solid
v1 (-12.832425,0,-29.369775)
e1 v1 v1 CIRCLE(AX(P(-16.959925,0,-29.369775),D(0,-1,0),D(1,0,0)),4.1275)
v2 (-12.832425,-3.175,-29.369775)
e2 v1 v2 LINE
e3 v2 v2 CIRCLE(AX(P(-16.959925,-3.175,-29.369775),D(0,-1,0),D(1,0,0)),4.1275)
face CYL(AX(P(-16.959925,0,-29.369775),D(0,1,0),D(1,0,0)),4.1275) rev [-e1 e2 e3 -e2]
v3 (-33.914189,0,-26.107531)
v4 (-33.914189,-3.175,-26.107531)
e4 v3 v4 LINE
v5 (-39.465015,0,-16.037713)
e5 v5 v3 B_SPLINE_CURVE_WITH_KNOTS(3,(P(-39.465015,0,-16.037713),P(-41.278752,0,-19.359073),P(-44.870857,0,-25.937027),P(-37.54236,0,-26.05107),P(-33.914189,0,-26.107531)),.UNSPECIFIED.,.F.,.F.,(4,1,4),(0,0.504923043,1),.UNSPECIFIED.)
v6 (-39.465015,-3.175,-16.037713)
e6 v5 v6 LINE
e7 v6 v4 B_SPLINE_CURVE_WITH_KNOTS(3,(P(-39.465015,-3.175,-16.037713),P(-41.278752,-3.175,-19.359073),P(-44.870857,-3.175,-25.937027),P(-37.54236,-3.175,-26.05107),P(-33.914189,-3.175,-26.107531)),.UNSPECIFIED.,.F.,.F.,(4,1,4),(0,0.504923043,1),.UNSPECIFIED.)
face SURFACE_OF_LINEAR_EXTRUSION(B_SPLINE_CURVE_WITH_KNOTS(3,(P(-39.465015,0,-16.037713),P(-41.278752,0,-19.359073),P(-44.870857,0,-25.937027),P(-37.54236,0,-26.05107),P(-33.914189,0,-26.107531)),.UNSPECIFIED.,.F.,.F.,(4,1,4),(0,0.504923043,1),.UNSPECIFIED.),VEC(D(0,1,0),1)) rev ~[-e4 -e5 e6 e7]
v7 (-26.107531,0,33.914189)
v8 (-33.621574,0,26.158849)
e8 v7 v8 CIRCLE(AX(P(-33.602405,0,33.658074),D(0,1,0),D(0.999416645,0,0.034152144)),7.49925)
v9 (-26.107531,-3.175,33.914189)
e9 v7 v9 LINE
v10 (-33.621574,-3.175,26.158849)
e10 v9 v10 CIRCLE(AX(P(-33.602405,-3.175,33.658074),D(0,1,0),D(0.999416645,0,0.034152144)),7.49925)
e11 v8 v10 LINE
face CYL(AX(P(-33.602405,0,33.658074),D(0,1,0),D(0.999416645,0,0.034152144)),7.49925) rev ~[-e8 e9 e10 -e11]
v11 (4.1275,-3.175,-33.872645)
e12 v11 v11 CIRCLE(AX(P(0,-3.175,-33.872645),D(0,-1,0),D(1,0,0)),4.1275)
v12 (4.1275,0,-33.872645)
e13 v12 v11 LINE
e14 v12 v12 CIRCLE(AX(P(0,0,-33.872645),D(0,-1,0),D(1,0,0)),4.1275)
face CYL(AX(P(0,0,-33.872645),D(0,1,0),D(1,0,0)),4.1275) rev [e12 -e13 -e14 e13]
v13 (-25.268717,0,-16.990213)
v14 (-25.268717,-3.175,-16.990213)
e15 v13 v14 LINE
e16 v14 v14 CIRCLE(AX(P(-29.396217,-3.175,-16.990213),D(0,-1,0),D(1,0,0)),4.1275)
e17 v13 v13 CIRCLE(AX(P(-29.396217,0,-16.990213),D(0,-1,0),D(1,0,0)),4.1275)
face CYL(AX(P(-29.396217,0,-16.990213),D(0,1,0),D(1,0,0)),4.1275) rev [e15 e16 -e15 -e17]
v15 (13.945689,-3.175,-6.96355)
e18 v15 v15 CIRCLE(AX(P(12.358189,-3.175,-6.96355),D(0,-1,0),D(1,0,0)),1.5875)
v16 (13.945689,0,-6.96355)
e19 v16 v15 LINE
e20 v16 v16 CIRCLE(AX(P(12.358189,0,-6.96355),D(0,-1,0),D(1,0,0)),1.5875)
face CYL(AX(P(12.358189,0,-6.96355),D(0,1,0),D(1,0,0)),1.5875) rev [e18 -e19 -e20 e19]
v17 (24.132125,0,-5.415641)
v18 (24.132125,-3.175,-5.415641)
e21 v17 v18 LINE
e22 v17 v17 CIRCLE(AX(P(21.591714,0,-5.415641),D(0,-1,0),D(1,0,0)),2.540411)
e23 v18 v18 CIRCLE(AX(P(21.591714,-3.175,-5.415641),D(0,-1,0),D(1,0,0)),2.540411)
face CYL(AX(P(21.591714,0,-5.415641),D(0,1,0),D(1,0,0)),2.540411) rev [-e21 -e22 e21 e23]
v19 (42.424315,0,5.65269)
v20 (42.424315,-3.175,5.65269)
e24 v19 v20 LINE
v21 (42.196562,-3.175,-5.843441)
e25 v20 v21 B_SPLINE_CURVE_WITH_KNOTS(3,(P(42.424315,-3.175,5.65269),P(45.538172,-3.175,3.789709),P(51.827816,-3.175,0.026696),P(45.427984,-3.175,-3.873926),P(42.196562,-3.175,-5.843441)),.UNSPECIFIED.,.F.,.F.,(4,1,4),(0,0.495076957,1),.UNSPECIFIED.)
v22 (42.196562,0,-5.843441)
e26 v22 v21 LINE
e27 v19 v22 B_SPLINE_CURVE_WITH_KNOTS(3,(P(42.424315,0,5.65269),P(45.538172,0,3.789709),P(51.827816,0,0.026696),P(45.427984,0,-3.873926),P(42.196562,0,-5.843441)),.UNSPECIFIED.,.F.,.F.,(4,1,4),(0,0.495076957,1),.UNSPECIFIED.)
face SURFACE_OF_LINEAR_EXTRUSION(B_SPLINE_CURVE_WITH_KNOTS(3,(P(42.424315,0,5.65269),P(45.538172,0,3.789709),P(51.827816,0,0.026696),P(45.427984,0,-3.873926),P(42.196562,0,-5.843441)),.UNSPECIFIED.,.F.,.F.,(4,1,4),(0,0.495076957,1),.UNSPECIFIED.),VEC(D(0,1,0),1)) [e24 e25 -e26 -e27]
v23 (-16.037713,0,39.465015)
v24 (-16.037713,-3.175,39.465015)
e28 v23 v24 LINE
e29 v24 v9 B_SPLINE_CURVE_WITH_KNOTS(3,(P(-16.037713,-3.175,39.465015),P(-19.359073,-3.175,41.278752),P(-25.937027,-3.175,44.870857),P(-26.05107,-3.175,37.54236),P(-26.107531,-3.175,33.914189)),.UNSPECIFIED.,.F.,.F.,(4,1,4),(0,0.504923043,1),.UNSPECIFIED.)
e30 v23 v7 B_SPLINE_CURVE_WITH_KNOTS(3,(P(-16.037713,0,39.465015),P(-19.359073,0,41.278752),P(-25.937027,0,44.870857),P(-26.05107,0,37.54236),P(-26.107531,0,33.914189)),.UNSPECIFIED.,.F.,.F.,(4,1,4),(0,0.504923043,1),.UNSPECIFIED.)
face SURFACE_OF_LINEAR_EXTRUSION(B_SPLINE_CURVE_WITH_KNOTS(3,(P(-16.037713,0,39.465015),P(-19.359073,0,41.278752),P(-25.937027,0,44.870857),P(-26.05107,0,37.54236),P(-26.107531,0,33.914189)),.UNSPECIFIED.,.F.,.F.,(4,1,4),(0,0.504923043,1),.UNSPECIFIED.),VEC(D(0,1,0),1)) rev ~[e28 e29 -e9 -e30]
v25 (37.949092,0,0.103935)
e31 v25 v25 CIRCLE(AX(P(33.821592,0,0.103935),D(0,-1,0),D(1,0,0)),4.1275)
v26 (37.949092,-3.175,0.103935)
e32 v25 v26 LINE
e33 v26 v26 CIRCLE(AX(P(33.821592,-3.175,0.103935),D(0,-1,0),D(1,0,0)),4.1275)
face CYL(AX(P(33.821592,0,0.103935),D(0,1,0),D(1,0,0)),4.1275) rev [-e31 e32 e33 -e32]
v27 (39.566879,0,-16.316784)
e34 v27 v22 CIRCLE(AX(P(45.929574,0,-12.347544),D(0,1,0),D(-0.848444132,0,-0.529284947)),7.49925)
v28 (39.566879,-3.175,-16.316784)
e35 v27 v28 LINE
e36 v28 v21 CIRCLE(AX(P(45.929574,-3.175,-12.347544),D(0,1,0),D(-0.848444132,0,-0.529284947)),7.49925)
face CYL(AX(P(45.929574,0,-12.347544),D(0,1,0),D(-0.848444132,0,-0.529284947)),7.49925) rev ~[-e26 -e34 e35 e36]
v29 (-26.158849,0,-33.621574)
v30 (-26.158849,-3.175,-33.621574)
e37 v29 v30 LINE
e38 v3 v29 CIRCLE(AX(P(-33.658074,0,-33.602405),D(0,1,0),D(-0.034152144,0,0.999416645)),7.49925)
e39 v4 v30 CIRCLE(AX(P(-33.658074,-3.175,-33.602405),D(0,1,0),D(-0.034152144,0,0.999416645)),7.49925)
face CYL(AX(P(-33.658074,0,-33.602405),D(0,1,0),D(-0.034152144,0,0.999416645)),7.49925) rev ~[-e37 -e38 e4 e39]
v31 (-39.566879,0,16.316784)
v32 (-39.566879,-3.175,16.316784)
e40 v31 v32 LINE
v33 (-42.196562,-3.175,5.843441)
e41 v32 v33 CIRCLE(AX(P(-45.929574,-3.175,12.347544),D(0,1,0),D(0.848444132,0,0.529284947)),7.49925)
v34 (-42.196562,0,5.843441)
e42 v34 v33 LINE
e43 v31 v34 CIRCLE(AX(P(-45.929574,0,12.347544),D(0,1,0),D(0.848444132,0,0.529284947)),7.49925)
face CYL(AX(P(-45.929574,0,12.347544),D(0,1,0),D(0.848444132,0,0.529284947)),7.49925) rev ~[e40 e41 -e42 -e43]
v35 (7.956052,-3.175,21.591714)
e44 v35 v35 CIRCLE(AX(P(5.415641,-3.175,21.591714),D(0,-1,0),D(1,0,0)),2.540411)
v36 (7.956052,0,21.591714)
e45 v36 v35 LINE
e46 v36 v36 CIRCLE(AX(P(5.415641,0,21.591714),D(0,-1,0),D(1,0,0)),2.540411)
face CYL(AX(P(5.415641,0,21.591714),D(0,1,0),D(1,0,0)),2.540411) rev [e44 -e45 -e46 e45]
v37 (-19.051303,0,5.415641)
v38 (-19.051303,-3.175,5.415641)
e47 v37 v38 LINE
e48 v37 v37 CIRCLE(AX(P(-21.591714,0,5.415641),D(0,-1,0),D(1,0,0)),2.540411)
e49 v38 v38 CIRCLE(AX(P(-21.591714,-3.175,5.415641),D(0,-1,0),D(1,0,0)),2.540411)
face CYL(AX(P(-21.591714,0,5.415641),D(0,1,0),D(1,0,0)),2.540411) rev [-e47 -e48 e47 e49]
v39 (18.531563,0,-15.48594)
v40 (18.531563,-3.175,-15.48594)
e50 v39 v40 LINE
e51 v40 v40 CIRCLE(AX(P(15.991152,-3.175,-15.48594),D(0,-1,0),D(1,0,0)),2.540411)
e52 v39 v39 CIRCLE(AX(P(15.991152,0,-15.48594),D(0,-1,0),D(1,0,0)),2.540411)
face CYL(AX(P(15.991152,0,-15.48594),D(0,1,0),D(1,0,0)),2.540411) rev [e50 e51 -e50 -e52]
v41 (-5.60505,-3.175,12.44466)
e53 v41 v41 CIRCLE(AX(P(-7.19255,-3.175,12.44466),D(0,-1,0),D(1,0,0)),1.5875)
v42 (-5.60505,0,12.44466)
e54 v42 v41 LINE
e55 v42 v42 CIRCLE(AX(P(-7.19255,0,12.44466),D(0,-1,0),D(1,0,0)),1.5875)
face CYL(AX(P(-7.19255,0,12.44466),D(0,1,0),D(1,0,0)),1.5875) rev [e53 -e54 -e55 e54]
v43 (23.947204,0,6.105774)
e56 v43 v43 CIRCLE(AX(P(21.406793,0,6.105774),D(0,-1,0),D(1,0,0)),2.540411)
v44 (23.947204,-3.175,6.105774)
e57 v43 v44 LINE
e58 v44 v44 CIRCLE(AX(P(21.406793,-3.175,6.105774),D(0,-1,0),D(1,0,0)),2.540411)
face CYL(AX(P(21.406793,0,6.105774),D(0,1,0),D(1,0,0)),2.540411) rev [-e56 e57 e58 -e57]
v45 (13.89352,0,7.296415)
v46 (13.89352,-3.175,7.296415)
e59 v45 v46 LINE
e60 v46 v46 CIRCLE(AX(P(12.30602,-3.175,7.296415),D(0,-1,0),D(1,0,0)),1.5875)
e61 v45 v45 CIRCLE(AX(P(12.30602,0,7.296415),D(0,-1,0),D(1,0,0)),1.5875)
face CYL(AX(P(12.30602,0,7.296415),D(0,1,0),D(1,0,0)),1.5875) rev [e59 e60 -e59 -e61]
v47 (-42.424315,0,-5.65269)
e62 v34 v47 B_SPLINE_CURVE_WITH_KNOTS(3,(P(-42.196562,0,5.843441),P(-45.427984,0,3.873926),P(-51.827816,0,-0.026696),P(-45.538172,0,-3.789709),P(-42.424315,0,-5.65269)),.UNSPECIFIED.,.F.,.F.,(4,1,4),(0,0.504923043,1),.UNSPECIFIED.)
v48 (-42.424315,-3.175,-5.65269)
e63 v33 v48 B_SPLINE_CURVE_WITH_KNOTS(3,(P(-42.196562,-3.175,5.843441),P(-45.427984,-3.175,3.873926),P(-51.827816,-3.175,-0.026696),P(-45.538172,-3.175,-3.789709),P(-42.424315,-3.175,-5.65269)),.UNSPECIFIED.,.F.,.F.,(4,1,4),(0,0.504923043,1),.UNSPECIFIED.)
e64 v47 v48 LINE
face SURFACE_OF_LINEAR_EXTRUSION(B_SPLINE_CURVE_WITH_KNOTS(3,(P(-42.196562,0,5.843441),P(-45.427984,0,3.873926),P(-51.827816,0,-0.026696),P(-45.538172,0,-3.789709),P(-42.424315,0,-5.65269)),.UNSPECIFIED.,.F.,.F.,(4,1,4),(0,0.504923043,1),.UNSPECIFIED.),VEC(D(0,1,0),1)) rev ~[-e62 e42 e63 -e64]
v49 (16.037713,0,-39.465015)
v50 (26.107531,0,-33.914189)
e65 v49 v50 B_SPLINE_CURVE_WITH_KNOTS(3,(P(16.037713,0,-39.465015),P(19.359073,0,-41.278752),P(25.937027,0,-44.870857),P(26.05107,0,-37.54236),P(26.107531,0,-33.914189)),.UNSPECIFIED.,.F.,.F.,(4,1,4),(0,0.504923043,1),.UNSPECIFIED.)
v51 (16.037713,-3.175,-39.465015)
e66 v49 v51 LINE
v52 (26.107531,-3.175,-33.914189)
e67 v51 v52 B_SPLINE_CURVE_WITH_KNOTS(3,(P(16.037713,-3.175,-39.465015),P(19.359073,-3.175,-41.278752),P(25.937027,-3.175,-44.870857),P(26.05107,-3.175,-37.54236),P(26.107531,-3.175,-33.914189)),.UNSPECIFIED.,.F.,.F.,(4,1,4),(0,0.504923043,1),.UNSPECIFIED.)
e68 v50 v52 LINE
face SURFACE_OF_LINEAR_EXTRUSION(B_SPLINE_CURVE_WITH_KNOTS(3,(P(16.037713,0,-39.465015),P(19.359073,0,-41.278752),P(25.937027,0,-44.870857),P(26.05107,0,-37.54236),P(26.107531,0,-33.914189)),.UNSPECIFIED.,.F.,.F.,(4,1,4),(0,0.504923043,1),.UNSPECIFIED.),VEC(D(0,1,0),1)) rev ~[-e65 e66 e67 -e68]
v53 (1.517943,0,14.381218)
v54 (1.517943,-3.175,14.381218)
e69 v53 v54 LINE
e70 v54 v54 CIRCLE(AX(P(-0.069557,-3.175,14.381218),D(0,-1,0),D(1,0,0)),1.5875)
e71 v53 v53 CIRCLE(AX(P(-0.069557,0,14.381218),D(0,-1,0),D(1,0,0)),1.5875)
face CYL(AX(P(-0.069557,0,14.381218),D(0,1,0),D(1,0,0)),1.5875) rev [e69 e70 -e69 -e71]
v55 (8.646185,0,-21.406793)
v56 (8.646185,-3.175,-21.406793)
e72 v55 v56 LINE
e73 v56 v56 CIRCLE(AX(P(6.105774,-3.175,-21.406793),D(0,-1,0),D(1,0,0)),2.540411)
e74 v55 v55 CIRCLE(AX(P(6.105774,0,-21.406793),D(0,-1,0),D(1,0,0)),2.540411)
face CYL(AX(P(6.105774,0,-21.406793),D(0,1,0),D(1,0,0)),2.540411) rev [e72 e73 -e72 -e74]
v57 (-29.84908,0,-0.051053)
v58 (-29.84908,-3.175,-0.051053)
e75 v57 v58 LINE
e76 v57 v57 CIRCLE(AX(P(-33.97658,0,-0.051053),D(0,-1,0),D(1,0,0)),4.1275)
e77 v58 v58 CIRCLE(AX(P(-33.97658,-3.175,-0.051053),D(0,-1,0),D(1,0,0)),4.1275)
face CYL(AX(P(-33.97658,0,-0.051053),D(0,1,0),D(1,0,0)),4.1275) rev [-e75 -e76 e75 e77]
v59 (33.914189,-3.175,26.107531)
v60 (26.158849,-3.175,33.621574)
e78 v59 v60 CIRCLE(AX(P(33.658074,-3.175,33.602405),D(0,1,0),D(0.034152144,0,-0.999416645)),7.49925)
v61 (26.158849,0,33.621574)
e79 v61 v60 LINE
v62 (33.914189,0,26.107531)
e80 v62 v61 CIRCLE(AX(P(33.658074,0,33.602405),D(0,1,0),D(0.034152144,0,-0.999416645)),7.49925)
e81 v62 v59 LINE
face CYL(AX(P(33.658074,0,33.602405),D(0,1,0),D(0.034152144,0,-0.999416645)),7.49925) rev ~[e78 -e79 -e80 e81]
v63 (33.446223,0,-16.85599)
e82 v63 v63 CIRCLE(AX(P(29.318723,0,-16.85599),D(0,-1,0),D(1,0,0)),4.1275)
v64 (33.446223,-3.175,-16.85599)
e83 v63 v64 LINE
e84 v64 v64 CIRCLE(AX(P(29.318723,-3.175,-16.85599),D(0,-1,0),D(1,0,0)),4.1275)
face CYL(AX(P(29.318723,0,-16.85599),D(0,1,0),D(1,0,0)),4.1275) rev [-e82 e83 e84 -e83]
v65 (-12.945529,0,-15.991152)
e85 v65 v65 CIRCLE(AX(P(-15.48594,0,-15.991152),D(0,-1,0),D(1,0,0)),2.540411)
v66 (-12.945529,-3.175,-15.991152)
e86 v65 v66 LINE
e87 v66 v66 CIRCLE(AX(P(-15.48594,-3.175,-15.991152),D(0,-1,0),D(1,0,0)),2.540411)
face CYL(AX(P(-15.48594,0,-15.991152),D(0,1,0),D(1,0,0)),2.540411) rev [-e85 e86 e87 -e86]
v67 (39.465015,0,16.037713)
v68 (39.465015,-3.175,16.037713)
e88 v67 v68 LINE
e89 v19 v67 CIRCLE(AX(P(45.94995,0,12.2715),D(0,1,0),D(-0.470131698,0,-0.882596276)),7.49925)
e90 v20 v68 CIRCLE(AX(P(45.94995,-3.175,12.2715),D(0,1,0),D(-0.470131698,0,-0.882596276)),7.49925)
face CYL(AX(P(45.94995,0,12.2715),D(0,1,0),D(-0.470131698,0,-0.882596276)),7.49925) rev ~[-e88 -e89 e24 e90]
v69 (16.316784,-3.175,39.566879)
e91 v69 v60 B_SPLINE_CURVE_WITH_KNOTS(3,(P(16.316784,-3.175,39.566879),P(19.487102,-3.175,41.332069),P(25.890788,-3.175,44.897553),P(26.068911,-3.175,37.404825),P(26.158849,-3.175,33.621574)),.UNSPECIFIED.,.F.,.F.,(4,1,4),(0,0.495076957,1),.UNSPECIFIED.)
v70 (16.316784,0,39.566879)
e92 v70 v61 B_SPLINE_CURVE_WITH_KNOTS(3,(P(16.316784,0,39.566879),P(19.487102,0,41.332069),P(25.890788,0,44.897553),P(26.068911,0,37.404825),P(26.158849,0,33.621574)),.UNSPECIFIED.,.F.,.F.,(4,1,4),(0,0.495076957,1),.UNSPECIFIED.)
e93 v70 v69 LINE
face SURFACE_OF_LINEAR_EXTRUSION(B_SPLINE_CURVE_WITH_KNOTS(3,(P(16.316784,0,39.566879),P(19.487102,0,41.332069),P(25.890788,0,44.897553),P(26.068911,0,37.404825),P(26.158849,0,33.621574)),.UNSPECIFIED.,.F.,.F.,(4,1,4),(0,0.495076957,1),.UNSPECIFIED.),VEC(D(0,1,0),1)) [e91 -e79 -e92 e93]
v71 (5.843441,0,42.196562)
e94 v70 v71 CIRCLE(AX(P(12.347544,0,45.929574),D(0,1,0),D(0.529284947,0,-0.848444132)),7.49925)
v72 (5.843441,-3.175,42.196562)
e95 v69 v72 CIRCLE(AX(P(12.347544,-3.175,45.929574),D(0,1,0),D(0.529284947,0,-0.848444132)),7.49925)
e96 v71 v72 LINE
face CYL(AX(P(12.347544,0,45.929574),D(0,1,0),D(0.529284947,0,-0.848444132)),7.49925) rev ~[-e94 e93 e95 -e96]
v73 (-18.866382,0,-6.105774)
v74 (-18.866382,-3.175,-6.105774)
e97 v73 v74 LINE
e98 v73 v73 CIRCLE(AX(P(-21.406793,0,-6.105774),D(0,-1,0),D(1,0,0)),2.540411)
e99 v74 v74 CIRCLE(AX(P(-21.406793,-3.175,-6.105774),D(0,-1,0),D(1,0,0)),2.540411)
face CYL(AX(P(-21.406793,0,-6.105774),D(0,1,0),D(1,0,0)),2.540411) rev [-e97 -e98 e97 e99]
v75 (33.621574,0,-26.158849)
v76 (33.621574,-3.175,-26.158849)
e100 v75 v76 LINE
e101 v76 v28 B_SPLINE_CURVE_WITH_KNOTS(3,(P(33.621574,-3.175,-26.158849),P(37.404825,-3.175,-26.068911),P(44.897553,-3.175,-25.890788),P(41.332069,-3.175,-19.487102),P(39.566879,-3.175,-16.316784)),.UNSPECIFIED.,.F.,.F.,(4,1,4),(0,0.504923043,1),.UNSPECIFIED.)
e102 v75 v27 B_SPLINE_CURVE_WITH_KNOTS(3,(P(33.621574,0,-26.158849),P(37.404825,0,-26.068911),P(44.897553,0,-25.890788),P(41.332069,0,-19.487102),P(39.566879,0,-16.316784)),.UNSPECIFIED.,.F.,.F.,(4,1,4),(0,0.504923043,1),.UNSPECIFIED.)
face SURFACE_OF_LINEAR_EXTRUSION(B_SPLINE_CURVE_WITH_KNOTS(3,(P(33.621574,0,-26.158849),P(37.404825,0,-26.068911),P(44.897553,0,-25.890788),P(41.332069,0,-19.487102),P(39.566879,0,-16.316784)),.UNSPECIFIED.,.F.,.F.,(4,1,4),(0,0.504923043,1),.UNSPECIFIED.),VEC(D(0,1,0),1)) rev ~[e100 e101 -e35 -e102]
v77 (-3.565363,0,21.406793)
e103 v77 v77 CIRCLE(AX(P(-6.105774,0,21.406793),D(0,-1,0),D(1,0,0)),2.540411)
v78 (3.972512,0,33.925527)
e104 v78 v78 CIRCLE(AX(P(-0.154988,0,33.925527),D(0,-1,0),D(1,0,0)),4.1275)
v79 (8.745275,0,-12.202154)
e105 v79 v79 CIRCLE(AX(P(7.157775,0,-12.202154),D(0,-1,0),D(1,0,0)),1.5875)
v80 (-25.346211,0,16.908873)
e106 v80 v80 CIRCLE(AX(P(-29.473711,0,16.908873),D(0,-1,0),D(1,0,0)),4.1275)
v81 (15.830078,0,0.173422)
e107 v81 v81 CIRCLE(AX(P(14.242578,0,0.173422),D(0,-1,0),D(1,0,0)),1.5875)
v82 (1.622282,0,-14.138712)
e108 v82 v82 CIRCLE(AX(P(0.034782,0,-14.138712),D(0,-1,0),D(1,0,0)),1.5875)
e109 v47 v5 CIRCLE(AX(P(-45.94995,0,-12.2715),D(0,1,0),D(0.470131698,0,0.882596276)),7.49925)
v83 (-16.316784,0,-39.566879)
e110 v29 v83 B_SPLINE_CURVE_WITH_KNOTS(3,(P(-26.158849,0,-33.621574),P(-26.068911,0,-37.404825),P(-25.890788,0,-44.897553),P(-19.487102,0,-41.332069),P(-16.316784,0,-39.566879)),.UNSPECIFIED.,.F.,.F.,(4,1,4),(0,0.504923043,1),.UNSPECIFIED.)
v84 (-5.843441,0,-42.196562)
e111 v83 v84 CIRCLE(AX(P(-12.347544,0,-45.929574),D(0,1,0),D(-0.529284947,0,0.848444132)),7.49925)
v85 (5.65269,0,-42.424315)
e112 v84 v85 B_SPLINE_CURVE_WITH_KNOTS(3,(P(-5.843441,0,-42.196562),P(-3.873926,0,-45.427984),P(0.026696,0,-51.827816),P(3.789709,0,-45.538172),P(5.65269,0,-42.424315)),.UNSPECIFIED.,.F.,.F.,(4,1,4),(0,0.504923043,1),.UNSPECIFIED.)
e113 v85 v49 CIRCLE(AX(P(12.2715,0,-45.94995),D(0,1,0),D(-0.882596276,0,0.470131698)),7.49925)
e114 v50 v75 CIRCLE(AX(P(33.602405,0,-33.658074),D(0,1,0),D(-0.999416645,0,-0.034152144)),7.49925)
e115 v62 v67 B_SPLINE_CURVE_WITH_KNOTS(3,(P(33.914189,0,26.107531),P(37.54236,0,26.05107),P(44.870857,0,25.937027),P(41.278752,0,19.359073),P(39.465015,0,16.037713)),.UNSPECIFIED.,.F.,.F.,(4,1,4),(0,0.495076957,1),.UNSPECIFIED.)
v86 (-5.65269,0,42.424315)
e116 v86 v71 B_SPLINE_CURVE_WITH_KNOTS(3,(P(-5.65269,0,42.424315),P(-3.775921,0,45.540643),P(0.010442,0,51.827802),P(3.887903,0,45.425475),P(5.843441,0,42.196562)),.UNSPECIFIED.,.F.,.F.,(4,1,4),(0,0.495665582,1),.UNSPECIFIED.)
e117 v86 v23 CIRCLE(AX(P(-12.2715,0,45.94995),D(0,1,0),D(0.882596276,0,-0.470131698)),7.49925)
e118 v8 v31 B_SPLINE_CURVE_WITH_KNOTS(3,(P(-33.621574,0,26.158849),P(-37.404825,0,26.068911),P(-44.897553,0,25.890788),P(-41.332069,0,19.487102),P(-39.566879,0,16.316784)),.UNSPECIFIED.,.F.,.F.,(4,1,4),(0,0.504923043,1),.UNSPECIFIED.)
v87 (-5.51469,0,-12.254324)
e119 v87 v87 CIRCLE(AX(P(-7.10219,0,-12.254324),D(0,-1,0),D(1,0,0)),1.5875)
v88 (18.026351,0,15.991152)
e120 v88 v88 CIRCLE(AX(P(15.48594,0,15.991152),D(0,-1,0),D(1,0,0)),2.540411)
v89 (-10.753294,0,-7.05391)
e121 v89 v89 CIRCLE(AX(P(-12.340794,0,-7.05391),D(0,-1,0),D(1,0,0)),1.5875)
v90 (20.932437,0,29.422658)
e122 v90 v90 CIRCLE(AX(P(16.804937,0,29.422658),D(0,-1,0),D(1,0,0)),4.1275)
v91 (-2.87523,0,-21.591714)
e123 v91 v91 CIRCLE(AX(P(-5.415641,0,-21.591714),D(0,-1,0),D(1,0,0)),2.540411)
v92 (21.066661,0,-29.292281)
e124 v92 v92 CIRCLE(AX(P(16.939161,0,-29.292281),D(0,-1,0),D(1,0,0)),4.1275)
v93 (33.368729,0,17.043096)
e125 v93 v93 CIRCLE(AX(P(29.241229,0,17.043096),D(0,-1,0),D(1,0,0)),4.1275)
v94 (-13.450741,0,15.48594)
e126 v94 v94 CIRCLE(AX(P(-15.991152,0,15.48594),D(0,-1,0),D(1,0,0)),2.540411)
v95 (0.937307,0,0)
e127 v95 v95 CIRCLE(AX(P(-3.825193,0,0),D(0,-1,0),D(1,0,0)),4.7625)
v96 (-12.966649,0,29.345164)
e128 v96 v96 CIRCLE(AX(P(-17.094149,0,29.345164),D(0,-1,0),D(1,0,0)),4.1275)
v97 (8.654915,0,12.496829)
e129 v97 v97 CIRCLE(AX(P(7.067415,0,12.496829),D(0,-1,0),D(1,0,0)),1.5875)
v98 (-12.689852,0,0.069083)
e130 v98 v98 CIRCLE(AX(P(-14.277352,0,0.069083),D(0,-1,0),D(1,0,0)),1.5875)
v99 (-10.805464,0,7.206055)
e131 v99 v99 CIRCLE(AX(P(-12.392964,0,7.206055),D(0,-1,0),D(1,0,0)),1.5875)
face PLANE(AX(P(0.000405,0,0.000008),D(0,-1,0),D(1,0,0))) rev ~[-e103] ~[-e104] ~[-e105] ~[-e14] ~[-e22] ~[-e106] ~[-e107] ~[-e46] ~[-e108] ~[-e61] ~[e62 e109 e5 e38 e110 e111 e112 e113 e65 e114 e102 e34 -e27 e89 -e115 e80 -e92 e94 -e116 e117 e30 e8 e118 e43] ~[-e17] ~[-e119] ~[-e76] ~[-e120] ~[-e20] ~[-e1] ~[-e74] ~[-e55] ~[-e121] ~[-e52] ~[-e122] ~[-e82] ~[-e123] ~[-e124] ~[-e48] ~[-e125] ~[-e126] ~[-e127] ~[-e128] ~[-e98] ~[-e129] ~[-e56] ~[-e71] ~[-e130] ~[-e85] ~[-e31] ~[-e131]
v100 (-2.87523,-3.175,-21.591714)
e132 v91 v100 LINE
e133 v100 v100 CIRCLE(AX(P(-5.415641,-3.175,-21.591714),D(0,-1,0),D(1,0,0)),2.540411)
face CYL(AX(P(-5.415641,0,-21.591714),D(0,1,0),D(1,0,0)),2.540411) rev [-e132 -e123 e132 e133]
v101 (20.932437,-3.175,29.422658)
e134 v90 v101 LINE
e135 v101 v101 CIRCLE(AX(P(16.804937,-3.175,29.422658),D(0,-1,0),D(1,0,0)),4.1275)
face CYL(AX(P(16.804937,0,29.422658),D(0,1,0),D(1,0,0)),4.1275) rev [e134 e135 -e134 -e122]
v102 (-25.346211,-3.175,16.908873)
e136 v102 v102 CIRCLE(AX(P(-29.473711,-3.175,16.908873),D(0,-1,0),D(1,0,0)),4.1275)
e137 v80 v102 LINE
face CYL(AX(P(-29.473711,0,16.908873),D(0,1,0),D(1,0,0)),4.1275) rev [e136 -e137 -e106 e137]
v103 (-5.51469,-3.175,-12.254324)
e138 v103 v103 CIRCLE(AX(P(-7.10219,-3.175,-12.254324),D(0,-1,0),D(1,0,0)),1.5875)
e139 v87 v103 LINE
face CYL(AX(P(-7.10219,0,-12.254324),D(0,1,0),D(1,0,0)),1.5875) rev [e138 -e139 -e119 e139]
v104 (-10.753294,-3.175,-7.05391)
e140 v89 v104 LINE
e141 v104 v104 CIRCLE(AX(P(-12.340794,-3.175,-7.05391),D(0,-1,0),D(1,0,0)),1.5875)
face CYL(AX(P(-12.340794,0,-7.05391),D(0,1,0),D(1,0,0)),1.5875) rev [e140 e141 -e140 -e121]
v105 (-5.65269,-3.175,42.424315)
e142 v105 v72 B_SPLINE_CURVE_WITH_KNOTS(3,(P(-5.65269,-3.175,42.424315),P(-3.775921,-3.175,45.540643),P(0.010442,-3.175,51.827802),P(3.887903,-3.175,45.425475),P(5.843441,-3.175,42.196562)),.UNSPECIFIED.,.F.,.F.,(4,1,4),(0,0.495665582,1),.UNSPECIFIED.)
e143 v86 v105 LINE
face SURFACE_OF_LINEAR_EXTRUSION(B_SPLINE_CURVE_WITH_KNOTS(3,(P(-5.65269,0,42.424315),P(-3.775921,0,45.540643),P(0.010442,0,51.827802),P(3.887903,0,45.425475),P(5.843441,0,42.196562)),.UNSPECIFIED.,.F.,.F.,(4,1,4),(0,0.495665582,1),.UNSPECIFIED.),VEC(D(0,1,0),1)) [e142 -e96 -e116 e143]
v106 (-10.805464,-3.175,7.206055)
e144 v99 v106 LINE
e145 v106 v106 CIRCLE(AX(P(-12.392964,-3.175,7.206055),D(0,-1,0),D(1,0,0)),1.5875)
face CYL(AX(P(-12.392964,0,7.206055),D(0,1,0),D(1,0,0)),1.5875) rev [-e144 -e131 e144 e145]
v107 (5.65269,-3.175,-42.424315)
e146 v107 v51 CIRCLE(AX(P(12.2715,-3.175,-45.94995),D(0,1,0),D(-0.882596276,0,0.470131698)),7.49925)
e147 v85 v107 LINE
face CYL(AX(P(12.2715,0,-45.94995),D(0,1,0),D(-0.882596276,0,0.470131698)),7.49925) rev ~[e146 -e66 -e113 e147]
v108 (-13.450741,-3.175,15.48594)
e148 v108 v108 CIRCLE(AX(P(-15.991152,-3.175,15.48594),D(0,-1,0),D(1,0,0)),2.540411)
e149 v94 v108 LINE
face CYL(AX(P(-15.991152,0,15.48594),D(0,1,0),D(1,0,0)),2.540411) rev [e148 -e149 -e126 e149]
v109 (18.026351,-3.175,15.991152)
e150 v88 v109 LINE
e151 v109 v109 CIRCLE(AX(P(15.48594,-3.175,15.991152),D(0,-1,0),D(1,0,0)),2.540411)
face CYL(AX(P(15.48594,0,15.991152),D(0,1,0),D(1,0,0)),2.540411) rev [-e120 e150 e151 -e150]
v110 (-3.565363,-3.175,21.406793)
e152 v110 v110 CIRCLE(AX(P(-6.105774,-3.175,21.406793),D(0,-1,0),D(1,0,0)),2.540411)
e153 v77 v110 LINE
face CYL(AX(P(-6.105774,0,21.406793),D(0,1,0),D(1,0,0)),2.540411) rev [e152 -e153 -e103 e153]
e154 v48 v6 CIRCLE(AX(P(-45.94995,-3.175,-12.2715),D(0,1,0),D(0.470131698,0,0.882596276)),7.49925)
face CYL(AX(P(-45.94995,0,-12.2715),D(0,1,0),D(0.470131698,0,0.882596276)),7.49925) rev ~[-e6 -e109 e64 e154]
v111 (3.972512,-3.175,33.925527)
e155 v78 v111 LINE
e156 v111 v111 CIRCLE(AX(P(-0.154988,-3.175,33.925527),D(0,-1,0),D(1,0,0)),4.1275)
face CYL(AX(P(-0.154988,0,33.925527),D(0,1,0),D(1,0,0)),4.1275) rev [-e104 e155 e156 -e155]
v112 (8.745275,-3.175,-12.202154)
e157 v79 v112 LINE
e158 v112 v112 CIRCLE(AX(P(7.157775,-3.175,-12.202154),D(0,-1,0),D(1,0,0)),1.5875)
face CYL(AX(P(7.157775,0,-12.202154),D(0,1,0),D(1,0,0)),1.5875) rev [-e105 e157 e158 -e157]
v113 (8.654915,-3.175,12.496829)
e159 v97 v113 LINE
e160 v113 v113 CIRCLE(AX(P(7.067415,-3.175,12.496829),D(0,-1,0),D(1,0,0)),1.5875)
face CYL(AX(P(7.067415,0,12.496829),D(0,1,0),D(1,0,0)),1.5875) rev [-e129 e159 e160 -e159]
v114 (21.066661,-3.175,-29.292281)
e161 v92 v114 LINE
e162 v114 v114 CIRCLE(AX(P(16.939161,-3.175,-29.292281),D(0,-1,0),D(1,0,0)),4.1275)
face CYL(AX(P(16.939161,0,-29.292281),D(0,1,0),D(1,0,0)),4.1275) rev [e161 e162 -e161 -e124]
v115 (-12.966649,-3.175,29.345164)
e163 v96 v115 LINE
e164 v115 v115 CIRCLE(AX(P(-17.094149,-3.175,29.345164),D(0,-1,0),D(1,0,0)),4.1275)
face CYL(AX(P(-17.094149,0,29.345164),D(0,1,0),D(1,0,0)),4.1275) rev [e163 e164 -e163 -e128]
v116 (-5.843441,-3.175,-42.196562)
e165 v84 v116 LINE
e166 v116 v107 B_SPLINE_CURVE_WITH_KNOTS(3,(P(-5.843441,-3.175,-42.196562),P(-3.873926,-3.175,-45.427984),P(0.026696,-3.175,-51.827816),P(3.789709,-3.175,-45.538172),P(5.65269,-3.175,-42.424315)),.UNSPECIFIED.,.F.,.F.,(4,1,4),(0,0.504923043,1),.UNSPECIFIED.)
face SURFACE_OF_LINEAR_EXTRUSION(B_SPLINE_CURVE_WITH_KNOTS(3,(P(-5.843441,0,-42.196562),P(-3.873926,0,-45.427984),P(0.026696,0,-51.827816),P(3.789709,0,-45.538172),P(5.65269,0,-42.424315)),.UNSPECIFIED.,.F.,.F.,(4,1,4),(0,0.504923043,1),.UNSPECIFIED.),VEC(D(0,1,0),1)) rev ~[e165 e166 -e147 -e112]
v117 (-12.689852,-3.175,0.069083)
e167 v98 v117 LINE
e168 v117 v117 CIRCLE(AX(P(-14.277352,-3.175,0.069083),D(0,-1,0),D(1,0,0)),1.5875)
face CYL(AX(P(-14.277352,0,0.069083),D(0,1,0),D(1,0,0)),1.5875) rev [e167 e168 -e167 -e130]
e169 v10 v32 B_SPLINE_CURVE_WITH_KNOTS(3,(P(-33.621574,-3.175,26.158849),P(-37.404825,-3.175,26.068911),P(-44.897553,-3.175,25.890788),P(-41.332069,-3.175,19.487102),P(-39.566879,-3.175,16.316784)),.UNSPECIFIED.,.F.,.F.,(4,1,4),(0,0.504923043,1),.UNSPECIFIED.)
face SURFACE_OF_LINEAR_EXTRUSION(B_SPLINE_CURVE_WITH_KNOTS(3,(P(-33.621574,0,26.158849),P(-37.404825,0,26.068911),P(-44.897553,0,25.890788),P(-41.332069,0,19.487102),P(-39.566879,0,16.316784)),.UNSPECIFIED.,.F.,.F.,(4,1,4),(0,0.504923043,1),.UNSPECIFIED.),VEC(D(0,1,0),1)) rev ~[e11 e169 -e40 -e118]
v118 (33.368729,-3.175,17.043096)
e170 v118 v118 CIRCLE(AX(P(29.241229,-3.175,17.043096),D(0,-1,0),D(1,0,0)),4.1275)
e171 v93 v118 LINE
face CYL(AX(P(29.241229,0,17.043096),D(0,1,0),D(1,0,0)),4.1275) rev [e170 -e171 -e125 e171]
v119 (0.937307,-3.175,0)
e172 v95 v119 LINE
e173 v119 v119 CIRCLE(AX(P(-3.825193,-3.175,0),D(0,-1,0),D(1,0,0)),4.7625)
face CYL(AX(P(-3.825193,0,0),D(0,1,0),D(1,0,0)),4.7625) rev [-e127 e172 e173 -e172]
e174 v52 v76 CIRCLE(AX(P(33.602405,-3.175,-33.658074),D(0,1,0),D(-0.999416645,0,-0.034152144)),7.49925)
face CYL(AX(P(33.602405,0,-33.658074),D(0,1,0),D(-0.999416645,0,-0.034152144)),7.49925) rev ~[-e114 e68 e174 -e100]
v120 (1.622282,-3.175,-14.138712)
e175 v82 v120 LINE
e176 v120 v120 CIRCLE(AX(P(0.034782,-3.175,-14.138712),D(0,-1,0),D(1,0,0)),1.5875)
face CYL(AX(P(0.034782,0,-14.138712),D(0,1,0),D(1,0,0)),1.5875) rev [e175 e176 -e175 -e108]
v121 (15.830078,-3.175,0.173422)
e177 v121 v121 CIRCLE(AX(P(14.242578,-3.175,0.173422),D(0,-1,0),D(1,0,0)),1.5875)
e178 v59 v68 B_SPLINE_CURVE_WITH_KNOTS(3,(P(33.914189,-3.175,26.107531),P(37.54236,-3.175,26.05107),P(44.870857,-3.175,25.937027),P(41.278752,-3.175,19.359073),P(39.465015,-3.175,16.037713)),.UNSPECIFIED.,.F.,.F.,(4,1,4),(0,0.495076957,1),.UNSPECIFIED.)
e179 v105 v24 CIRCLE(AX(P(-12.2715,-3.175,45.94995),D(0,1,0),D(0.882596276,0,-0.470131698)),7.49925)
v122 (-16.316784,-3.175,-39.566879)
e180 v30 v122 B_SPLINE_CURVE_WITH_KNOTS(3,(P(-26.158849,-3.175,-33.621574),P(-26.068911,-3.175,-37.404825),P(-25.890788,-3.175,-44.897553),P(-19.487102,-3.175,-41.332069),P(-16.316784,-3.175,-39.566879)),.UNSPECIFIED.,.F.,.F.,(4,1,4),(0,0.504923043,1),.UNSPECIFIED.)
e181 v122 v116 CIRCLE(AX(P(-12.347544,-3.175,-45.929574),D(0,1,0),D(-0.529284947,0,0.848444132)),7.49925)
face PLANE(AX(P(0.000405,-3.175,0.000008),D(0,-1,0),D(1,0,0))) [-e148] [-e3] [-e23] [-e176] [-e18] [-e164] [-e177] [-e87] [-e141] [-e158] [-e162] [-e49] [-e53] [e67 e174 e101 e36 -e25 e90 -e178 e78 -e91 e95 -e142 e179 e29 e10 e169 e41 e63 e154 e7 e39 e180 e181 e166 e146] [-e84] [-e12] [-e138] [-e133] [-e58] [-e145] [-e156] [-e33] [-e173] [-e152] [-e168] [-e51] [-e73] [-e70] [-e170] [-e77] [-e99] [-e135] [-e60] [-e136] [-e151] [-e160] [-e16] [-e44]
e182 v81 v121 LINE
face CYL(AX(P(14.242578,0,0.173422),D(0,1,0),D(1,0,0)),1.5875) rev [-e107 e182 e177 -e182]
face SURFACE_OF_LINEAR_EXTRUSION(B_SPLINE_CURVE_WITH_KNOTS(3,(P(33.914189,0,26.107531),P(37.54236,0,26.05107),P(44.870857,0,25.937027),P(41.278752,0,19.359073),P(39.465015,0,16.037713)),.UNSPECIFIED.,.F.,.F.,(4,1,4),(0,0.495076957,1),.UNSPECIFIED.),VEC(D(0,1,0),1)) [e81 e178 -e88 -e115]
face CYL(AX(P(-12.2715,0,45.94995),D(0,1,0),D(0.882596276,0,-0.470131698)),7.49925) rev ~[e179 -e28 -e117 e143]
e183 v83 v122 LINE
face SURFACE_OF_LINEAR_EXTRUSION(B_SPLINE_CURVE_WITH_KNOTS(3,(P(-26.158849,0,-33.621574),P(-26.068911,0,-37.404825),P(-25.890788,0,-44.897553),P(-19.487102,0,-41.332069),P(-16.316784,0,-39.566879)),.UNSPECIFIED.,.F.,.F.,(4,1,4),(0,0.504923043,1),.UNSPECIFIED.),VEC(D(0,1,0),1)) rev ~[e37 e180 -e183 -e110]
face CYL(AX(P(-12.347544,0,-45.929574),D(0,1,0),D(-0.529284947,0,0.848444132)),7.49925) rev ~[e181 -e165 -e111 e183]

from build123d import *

# Parameters (mm, degrees)
F0_R     = 4.1275
F0_R_2   = 2.5404111094
F0_R_3   = 1.5875
F0_R_4   = 4.7625
F1_DEPTH = 3.175


with BuildPart() as f1:
    # F0 (on Front) → F1 (new body)
    with BuildSketch(Plane.XZ):
        with BuildLine():
            ThreePointArc((-5.6526899501, 42.4243148479), (-10.2163375942, 38.7378035599), (-16.0377128052, 39.465014636))
            add(Edge.make_bspline(
                [(-16.0377128052, 39.465014636), (-19.3590733847, 41.2787515205), (-25.937027446, 44.8708571108), (-26.0510704547, 37.5423596471), (-26.1075305205, 33.9141894214)],
                knots=[0, 0, 0, 0, 0.5049230427, 1, 1, 1, 1], degree=3))
            ThreePointArc((-26.1075305205, 33.9141894214), (-28.2165096701, 28.4397531725), (-33.6215740259, 26.1588488329))
            add(Edge.make_bspline(
                [(-33.6215740259, 26.1588488329), (-37.4048251051, 26.0689107609), (-44.8975532223, 25.8907884246), (-41.3320686331, 19.487101945), (-39.5668793715, 16.3167843274)],
                knots=[0, 0, 0, 0, 0.5049230427, 1, 1, 1, 1], degree=3))
            ThreePointArc((-39.5668793715, 16.3167843274), (-38.6560907667, 10.5212938897), (-42.1965616381, 5.8434406101))
            add(Edge.make_bspline(
                [(-42.1965616381, 5.8434406101), (-45.4279841456, 3.8739264153), (-51.8278158705, -0.0266961114), (-45.5381723997, -3.789708986), (-42.4243148479, -5.6526899501)],
                knots=[0, 0, 0, 0, 0.5049230427, 1, 1, 1, 1], degree=3))
            ThreePointArc((-42.4243148479, -5.6526899501), (-38.7378035599, -10.2163375942), (-39.465014636, -16.0377128052))
            add(Edge.make_bspline(
                [(-39.465014636, -16.0377128052), (-41.2787515205, -19.3590733847), (-44.8708571108, -25.937027446), (-37.5423596471, -26.0510704547), (-33.9141894214, -26.1075305205)],
                knots=[0, 0, 0, 0, 0.5049230427, 1, 1, 1, 1], degree=3))
            ThreePointArc((-33.9141894214, -26.1075305205), (-28.4397531725, -28.2165096701), (-26.1588488329, -33.6215740259))
            add(Edge.make_bspline(
                [(-26.1588488329, -33.6215740259), (-26.0689107609, -37.4048251051), (-25.8907884246, -44.8975532223), (-19.487101945, -41.3320686331), (-16.3167843274, -39.5668793715)],
                knots=[0, 0, 0, 0, 0.5049230427, 1, 1, 1, 1], degree=3))
            ThreePointArc((-16.3167843274, -39.5668793715), (-10.5212938897, -38.6560907667), (-5.8434406101, -42.1965616381))
            add(Edge.make_bspline(
                [(-5.8434406101, -42.1965616381), (-3.8739264153, -45.4279841456), (0.0266961114, -51.8278158705), (3.789708986, -45.5381723997), (5.6526899501, -42.4243148479)],
                knots=[0, 0, 0, 0, 0.5049230427, 1, 1, 1, 1], degree=3))
            ThreePointArc((5.6526899501, -42.4243148479), (10.2163375942, -38.7378035599), (16.0377128052, -39.465014636))
            add(Edge.make_bspline(
                [(16.0377128052, -39.465014636), (19.3590733847, -41.2787515205), (25.937027446, -44.8708571108), (26.0510704547, -37.5423596471), (26.1075305205, -33.9141894214)],
                knots=[0, 0, 0, 0, 0.5049230427, 1, 1, 1, 1], degree=3))
            ThreePointArc((26.1075305205, -33.9141894214), (28.2165096701, -28.4397531725), (33.6215740259, -26.1588488329))
            add(Edge.make_bspline(
                [(33.6215740259, -26.1588488329), (37.4048251051, -26.0689107609), (44.8975532223, -25.8907884246), (41.3320686331, -19.487101945), (39.5668793715, -16.3167843274)],
                knots=[0, 0, 0, 0, 0.5049230427, 1, 1, 1, 1], degree=3))
            ThreePointArc((39.5668793715, -16.3167843274), (38.6560907667, -10.5212938897), (42.1965616381, -5.8434406101))
            add(Edge.make_bspline(
                [(42.4243148479, 5.6526899501), (45.5381723997, 3.789708986), (51.8278158705, 0.0266961114), (45.4279841456, -3.8739264153), (42.1965616381, -5.8434406101)],
                knots=[0, 0, 0, 0, 0.4950769573, 1, 1, 1, 1], degree=3))
            ThreePointArc((42.4243148479, 5.6526899501), (38.7378035599, 10.2163375942), (39.465014636, 16.0377128052))
            add(Edge.make_bspline(
                [(33.9141894214, 26.1075305205), (37.5423596471, 26.0510704547), (44.8708571108, 25.937027446), (41.2787515205, 19.3590733847), (39.465014636, 16.0377128052)],
                knots=[0, 0, 0, 0, 0.4950769573, 1, 1, 1, 1], degree=3))
            ThreePointArc((33.9141894214, 26.1075305205), (28.4397531725, 28.2165096701), (26.1588488329, 33.6215740259))
            add(Edge.make_bspline(
                [(16.3167843274, 39.5668793715), (19.487101945, 41.3320686331), (25.8907884246, 44.8975532223), (26.0689107609, 37.4048251051), (26.1588488329, 33.6215740259)],
                knots=[0, 0, 0, 0, 0.4950769573, 1, 1, 1, 1], degree=3))
            ThreePointArc((16.3167843274, 39.5668793715), (10.5212938897, 38.6560907667), (5.8434406101, 42.1965616381))
            add(Edge.make_bspline(
                [(-5.6526899501, 42.4243148479), (-3.7759205366, 45.5406430422), (0.0104416401, 51.8278017738), (3.8879032615, 45.4254752545), (5.8434406101, 42.1965616381)],
                knots=[0, 0, 0, 0, 0.4956655824, 1, 1, 1, 1], degree=3))
        make_face()
        with Locations((-16.9599252474, -29.3697753454)):
            Circle(F0_R, mode=Mode.SUBTRACT)
        with Locations((-29.396216652, -16.9902134209)):
            Circle(F0_R, mode=Mode.SUBTRACT)
        with Locations((-33.9765799749, -0.0510526042)):
            Circle(F0_R, mode=Mode.SUBTRACT)
        with Locations((-15.4859397151, -15.9911519154)):
            Circle(F0_R_2, mode=Mode.SUBTRACT)
        with Locations((-5.4156412371, -21.591713652)):
            Circle(F0_R_2, mode=Mode.SUBTRACT)
        with Locations((-21.4067931524, -6.1057739369)):
            Circle(F0_R_2, mode=Mode.SUBTRACT)
        with Locations((-7.1021895773, -12.2543237497)):
            Circle(F0_R_3, mode=Mode.SUBTRACT)
        with Locations((-12.3407943156, -7.0539097078)):
            Circle(F0_R_3, mode=Mode.SUBTRACT)
        with Locations((0, -33.8726447575)):
            Circle(F0_R, mode=Mode.SUBTRACT)
        with Locations((16.9391608166, -29.2922814346)):
            Circle(F0_R, mode=Mode.SUBTRACT)
        with Locations((6.1057739369, -21.4067931524)):
            Circle(F0_R_2, mode=Mode.SUBTRACT)
        with Locations((0.0347822273, -14.1387120511)):
            Circle(F0_R_3, mode=Mode.SUBTRACT)
        with Locations((15.9911519154, -15.4859397151)):
            Circle(F0_R_2, mode=Mode.SUBTRACT)
        with Locations((7.1577752669, -12.2021542883)):
            Circle(F0_R_3, mode=Mode.SUBTRACT)
        with Locations((12.3581893089, -6.9635495501)):
            Circle(F0_R_3, mode=Mode.SUBTRACT)
        with Locations((21.591713652, -5.4156412371)):
            Circle(F0_R_2, mode=Mode.SUBTRACT)
        with Locations((29.3187227412, -16.8559900301)):
            Circle(F0_R, mode=Mode.SUBTRACT)
        with Locations((-29.4737105627, 16.9088726432)):
            Circle(F0_R, mode=Mode.SUBTRACT)
        with Locations((-21.591713652, 5.4156412371)):
            Circle(F0_R_2, mode=Mode.SUBTRACT)
        with Locations((-14.2773520783, 0.0690833318)):
            Circle(F0_R_3, mode=Mode.SUBTRACT)
        with Locations((-3.8251928054, 0)):
            Circle(F0_R_4, mode=Mode.SUBTRACT)
        with Locations((-12.3929637769, 7.2060551365)):
            Circle(F0_R_3, mode=Mode.SUBTRACT)
        with Locations((-7.192549735, 12.4446598747)):
            Circle(F0_R_3, mode=Mode.SUBTRACT)
        with Locations((-15.9911519154, 15.4859397151)):
            Circle(F0_R_2, mode=Mode.SUBTRACT)
        with Locations((-0.0695566954, 14.3812176375)):
            Circle(F0_R_3, mode=Mode.SUBTRACT)
        with Locations((-6.1057739369, 21.4067931524)):
            Circle(F0_R_2, mode=Mode.SUBTRACT)
        with Locations((-17.0941486382, 29.3451640477)):
            Circle(F0_R, mode=Mode.SUBTRACT)
        with Locations((-0.1549878216, 33.9255273706)):
            Circle(F0_R, mode=Mode.SUBTRACT)
        with Locations((12.3060198475, 7.2964152942)):
            Circle(F0_R_3, mode=Mode.SUBTRACT)
        with Locations((7.0674151092, 12.4968293361)):
            Circle(F0_R_3, mode=Mode.SUBTRACT)
        with Locations((14.2425776102, 0.1734222545)):
            Circle(F0_R_3, mode=Mode.SUBTRACT)
        with Locations((21.4067931524, 6.1057739369)):
            Circle(F0_R_2, mode=Mode.SUBTRACT)
        with Locations((5.4156412371, 21.591713652)):
            Circle(F0_R_2, mode=Mode.SUBTRACT)
        with Locations((15.4859397151, 15.9911519154)):
            Circle(F0_R_2, mode=Mode.SUBTRACT)
        with Locations((33.8215921533, 0.1039352173)):
            Circle(F0_R, mode=Mode.SUBTRACT)
        with Locations((29.2412288304, 17.043096034)):
            Circle(F0_R, mode=Mode.SUBTRACT)
        with Locations((16.8049374259, 29.4226579585)):
            Circle(F0_R, mode=Mode.SUBTRACT)
    extrude(amount=F1_DEPTH)


solid = f1.part
